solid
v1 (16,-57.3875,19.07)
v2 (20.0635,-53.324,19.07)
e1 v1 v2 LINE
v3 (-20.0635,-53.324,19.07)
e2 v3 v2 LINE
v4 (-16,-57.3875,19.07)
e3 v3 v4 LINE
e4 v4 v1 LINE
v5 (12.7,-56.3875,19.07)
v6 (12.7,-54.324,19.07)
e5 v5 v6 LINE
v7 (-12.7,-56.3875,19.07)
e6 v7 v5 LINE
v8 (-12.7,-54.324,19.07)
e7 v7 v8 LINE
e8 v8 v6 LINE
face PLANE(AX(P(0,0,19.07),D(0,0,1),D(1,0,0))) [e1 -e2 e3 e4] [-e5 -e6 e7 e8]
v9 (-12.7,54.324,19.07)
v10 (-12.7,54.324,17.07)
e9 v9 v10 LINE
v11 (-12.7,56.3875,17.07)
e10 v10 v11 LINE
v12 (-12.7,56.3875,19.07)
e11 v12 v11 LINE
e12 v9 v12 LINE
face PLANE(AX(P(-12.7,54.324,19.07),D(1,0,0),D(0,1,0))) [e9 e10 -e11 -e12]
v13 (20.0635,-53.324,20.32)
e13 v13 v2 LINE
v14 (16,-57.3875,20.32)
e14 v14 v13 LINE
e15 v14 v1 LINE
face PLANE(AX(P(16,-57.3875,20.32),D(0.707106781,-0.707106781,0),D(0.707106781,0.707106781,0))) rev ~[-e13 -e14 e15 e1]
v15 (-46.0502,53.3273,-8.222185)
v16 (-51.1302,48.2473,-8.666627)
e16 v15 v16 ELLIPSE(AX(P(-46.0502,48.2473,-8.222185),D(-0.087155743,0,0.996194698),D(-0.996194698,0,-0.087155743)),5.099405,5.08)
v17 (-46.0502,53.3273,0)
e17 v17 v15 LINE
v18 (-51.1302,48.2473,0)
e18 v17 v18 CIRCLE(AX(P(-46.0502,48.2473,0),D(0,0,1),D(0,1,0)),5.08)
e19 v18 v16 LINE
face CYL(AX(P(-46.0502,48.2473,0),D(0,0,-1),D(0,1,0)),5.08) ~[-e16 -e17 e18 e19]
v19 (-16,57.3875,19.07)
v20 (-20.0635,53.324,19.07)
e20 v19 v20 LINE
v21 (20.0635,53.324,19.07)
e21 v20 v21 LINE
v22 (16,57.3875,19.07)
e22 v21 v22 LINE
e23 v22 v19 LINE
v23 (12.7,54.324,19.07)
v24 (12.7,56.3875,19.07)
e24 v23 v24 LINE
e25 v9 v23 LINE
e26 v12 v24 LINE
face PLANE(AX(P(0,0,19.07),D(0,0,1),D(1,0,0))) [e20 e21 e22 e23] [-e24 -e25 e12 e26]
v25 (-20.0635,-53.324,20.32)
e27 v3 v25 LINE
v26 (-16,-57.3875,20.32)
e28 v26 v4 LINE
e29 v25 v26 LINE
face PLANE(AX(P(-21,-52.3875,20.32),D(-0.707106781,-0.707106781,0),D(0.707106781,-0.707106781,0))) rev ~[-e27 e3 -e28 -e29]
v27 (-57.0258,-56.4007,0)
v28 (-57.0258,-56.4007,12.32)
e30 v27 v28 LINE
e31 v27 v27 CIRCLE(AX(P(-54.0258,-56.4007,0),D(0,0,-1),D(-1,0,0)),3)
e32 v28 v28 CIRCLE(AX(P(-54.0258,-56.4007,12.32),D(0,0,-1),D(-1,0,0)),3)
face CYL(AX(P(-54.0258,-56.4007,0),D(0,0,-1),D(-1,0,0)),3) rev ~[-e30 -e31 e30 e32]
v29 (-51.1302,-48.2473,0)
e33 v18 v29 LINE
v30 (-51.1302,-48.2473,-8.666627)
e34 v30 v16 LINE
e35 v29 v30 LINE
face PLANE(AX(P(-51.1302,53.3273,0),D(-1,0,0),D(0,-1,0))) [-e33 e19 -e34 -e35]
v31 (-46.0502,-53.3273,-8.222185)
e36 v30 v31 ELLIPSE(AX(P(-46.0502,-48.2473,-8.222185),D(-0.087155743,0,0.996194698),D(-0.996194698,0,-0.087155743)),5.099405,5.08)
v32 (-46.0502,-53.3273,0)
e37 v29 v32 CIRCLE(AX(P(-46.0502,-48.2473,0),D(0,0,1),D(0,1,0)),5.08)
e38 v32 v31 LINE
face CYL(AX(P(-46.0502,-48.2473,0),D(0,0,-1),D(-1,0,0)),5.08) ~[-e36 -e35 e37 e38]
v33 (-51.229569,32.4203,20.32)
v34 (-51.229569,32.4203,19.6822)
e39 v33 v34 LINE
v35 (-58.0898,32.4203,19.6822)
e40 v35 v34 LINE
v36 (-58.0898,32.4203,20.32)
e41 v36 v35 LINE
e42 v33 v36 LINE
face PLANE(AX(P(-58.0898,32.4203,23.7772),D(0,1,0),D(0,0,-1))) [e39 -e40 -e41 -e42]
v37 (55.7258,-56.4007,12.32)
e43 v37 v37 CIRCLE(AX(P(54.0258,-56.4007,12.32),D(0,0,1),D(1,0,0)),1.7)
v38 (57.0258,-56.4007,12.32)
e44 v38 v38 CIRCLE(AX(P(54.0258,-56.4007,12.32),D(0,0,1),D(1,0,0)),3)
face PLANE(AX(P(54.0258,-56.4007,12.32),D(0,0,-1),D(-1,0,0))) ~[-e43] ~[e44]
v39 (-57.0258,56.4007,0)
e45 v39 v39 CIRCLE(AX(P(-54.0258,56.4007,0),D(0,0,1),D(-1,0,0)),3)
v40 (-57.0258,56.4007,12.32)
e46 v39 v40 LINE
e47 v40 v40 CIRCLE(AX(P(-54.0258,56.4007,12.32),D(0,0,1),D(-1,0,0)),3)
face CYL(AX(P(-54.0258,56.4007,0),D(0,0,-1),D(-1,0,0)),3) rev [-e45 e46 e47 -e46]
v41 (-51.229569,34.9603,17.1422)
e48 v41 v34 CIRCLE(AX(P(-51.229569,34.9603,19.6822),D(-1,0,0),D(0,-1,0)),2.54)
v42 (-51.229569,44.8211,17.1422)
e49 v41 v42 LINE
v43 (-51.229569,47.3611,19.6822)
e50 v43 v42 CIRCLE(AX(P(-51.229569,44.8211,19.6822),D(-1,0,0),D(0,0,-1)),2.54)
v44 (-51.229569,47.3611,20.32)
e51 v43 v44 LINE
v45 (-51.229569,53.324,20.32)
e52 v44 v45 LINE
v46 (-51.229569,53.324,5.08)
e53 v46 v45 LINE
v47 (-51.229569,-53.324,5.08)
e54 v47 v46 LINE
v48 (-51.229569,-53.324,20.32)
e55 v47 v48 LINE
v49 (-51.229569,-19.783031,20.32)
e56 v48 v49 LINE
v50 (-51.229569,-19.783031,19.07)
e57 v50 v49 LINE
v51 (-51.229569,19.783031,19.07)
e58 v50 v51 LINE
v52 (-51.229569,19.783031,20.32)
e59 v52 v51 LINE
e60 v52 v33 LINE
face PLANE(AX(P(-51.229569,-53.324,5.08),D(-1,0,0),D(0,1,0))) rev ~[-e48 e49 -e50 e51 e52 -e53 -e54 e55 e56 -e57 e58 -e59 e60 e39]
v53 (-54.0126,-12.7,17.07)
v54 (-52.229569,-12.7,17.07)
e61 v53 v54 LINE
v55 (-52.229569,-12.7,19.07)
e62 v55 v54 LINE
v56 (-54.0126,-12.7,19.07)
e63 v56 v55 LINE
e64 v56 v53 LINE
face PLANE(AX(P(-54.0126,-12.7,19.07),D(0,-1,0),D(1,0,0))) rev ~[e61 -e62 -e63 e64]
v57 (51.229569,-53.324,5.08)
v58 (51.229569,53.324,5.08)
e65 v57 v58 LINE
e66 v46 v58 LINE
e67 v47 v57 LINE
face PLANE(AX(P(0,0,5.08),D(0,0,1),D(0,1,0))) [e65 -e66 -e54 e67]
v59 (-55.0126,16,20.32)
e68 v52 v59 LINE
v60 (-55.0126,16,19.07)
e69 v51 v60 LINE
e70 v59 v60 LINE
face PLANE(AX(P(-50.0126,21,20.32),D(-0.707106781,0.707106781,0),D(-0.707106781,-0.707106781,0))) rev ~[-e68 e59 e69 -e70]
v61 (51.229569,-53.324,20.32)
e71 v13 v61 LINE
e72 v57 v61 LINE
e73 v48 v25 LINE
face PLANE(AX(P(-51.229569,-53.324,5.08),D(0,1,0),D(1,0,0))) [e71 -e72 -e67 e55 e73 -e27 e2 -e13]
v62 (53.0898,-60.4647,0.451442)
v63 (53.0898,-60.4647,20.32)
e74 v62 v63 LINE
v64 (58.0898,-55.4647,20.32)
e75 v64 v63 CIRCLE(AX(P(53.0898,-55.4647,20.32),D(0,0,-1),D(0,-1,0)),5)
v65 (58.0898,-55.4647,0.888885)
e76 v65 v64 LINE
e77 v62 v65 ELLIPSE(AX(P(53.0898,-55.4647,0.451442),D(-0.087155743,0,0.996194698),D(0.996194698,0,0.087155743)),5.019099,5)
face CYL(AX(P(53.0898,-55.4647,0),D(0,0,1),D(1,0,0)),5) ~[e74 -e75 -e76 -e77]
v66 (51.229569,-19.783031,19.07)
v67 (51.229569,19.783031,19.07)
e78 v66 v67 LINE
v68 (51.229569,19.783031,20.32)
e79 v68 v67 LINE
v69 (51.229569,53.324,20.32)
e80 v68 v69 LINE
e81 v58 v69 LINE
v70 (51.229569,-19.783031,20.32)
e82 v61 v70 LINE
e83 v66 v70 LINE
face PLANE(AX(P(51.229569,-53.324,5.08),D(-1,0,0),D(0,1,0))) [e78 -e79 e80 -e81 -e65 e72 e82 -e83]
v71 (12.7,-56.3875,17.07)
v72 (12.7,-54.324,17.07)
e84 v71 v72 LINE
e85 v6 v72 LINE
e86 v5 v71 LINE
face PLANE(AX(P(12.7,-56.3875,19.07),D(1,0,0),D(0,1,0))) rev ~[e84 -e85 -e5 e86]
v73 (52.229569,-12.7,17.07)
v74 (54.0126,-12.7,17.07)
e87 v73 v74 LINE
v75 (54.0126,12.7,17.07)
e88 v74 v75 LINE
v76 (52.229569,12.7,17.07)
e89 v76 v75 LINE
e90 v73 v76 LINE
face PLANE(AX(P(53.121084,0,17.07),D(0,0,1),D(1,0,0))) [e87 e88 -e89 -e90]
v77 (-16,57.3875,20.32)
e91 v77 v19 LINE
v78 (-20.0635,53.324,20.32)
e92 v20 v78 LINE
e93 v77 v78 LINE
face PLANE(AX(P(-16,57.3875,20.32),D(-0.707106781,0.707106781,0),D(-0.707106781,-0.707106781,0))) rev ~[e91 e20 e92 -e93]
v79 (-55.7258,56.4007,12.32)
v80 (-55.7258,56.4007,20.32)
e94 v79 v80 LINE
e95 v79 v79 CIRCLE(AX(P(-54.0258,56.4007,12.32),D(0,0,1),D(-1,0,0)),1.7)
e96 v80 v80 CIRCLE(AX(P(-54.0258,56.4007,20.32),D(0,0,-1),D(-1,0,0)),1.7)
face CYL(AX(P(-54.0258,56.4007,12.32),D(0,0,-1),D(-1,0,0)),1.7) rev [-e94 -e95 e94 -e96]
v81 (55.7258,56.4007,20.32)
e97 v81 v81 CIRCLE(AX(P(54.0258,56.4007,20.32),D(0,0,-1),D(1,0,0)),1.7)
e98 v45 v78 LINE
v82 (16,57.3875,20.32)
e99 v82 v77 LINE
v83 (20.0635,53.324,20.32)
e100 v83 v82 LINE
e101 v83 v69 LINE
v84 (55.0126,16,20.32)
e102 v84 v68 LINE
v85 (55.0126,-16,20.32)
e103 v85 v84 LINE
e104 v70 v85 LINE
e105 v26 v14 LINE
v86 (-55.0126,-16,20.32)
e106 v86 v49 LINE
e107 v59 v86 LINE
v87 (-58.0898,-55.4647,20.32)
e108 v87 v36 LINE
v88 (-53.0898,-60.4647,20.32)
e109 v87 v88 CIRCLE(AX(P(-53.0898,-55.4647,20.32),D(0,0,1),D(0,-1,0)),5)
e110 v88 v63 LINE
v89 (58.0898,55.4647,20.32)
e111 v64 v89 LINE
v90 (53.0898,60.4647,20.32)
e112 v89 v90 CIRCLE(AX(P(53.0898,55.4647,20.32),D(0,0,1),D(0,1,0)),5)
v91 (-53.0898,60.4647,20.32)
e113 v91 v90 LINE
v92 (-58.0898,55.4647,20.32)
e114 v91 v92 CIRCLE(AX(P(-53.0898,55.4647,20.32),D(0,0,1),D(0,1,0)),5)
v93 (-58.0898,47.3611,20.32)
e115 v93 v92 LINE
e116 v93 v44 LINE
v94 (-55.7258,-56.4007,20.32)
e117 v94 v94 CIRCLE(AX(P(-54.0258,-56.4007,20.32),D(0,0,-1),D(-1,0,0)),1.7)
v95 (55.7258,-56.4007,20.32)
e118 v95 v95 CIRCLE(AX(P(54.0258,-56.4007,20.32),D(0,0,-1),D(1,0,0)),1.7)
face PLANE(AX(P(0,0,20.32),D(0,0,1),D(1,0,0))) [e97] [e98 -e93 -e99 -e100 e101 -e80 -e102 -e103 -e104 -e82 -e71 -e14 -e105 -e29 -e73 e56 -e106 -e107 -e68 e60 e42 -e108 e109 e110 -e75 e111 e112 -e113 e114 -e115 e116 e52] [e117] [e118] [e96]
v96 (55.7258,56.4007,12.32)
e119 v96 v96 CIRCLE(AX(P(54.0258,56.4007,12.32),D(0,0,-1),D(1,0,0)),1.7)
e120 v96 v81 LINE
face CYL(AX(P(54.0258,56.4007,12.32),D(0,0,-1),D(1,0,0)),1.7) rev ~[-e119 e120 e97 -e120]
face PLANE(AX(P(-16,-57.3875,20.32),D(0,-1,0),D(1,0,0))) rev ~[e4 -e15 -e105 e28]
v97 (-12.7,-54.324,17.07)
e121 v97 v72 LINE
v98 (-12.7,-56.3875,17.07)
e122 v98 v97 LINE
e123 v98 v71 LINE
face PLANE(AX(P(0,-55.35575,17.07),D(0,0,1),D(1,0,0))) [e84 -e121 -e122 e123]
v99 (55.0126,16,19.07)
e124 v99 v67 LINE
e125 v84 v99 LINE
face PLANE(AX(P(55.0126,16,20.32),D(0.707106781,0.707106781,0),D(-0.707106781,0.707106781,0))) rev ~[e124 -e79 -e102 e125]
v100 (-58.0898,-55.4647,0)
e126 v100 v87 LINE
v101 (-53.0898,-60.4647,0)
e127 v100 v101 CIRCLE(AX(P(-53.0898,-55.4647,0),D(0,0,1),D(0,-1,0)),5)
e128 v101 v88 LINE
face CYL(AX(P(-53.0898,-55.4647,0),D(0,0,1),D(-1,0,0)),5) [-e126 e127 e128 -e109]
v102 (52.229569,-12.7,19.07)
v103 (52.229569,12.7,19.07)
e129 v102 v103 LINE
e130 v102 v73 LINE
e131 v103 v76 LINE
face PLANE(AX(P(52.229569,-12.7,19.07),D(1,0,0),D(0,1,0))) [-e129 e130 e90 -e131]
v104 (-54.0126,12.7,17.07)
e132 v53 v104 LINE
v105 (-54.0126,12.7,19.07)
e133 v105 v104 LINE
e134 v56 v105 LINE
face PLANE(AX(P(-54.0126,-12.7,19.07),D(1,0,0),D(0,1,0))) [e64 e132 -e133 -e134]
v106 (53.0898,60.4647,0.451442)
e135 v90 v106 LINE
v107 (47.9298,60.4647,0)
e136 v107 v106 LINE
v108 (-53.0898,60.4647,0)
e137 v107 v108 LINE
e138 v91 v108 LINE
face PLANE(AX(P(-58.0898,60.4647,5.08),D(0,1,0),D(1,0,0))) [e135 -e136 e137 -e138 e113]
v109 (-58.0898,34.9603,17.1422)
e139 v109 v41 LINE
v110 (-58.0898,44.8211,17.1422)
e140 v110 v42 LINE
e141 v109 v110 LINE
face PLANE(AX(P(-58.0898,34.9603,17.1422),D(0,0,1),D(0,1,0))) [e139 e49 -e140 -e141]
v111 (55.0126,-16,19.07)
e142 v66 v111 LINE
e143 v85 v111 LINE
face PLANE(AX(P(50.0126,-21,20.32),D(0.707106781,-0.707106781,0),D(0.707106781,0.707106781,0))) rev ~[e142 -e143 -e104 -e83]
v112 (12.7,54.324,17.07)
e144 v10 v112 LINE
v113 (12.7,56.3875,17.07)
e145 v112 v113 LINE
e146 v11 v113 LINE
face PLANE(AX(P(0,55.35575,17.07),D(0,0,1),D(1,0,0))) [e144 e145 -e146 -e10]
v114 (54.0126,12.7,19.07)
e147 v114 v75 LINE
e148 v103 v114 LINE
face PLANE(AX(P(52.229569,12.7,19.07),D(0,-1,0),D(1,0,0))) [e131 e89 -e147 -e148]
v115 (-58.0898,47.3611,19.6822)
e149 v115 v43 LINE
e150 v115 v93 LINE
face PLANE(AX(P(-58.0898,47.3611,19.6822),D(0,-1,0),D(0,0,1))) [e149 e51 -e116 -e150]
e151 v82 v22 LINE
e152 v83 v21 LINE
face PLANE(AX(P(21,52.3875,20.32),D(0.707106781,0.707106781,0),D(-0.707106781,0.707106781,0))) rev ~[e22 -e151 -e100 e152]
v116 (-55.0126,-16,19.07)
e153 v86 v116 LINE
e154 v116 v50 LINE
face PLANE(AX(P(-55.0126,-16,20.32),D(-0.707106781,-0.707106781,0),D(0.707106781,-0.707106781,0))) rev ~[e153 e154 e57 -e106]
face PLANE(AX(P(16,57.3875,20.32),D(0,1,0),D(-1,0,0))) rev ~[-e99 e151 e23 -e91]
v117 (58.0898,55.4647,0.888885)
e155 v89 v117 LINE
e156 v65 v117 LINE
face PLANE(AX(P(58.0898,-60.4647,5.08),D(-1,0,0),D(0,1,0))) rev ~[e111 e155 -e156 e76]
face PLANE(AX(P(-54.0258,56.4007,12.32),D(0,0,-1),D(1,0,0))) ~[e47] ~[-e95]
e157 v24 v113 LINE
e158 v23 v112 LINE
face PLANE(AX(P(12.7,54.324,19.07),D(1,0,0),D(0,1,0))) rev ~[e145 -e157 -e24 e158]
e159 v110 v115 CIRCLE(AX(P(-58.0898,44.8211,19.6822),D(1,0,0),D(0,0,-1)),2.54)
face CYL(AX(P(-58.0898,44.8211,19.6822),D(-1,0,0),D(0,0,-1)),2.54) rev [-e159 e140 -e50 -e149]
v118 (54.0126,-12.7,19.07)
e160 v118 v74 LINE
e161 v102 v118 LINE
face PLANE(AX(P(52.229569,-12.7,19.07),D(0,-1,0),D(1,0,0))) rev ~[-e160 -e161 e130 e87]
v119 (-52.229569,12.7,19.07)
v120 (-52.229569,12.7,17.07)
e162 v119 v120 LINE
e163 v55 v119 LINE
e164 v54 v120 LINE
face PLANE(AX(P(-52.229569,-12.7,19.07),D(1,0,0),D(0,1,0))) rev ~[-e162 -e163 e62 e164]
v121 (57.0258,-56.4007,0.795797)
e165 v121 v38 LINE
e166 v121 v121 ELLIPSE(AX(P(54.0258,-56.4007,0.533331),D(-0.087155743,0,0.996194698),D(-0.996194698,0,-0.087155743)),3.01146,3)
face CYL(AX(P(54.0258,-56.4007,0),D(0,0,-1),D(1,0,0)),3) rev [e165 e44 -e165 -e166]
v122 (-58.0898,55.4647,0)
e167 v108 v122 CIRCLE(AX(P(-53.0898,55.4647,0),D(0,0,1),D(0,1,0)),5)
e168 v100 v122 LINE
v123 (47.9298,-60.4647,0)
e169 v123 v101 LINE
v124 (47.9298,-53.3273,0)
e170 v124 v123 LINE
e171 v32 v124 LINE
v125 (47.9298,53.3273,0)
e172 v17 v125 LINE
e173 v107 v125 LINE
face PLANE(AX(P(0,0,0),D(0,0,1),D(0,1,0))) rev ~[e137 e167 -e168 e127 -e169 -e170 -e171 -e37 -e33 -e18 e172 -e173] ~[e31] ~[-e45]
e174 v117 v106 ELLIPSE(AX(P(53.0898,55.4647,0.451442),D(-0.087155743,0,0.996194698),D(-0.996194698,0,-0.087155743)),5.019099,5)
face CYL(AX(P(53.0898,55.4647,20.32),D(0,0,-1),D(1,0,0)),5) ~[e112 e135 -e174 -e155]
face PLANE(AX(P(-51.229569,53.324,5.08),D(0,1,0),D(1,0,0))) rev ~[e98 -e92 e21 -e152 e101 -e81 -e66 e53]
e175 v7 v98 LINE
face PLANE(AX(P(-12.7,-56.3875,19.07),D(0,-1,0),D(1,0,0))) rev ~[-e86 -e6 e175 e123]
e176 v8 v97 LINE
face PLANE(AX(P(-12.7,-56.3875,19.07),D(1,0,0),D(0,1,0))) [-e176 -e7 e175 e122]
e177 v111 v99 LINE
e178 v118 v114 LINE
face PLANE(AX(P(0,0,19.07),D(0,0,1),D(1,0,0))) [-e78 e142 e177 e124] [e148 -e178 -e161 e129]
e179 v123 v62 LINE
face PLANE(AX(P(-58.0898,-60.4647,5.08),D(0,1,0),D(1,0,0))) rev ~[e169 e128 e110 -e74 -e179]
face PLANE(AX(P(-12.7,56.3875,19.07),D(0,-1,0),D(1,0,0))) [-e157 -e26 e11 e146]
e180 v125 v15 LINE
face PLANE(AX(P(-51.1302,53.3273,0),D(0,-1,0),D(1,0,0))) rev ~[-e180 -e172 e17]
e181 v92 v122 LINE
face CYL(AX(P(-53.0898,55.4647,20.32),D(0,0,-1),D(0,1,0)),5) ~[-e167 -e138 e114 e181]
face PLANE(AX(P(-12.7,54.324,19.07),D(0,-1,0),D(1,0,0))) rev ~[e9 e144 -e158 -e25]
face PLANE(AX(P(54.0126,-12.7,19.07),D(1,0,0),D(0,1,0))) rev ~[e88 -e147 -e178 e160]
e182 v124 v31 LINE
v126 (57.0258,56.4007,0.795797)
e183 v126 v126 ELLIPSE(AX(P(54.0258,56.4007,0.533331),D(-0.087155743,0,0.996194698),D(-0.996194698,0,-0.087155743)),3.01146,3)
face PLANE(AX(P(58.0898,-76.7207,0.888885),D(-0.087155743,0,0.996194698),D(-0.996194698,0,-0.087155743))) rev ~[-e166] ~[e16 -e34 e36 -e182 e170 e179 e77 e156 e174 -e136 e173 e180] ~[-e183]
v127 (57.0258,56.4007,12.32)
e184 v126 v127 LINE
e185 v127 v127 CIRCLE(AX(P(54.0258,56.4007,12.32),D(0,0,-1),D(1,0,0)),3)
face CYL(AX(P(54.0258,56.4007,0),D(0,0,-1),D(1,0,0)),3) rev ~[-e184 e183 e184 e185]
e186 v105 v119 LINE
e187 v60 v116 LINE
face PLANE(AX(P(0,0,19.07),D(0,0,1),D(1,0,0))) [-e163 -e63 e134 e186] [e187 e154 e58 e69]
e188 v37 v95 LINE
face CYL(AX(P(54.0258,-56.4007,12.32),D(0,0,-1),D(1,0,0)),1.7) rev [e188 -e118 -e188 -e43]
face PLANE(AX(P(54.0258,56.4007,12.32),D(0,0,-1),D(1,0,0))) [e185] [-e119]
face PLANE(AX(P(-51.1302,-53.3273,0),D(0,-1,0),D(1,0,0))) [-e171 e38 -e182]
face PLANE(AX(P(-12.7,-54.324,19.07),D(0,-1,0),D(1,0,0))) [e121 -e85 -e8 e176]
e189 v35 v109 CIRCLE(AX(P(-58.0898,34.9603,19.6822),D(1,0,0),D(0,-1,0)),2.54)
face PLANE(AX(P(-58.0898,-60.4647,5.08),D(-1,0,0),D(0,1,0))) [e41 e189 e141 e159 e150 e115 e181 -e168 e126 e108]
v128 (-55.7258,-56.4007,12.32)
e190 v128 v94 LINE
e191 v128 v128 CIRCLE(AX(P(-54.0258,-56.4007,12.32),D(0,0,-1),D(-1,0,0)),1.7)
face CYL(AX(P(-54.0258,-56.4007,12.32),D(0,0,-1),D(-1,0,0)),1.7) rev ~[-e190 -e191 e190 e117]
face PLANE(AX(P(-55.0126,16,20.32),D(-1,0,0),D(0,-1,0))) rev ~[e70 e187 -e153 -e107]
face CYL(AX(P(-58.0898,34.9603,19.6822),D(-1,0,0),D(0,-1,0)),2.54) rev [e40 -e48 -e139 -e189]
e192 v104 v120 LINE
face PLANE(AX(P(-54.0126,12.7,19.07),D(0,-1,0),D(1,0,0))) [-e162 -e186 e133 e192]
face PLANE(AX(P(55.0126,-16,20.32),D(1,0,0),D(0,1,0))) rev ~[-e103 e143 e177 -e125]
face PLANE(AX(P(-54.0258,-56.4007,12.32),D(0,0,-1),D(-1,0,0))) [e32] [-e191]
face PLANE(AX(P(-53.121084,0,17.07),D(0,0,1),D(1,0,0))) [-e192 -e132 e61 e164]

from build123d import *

# Parameters (mm, degrees)
SKETCH1_W                                  = 120.9294
SKETCH1_H                                  = 116.1796
BOSS_EXTRUDE1_DEPTH                        = 5.08
SKETCH2_W                                  = 116.1796
SKETCH2_H                                  = 120.9294
SKETCH2_W_2                                = 102.459137156
SKETCH2_H_2                                = 106.648
BOSS_EXTRUDE2_DEPTH                        = 15.24
CUT_EXTRUDE1_DEPTH                         = 1.25
SKETCH4_W                                  = 25.4
SKETCH4_H                                  = 2.0635
SKETCH4_W_2                                = 1.783031422
SKETCH4_H_2                                = 25.4
CUT_EXTRUDE2_DEPTH                         = 2
CUT_EXTRUDE3_DEPTH                         = 9.906
SKETCH7_R                                  = 3
CUT_EXTRUDE4_DEPTH                         = 12.32
SKETCH8_R                                  = 1.7
CUT_EXTRUDE5_DEPTH                         = 12.32
MIRROR1_AT_THE_SECOND_PLANE_COPY_1_SKETC_R = 3
MIRROR1_AT_THE_SECOND_PLANE_COPY_1_DEPTH   = 12.32
MIRROR1_AT_THE_SECOND_PLANE_COPY_2_SKETC_R = 1.7
MIRROR1_AT_THE_SECOND_PLANE_COPY_2_DEPTH   = 12.32
SKETCH6_W                                  = 109.22
SKETCH6_H                                  = 106.6546
BOSS_EXTRUDE3_DEPTH                        = 9.5504
FILLET1_R                                  = 5.08
FILLET2_R                                  = 5
CUT_EXTRUDE6_DEPTH                         = 18.034
CUT_EXTRUDE6_DEPTH_BACK                    = 130.048


with BuildPart() as part:
    # Sketch1 → Boss-Extrude1 (new body)
    with BuildSketch(Plane(origin=(0, 0, 0), x_dir=(0, 1, 0), z_dir=(0, 0, 1))):
        Rectangle(SKETCH1_W, SKETCH1_H)
    extrude(amount=BOSS_EXTRUDE1_DEPTH)

    # Sketch2 → Boss-Extrude2 (add)
    with BuildSketch(Plane.XY.offset(5.08)):
        Rectangle(SKETCH2_W, SKETCH2_H)
        Rectangle(SKETCH2_W_2, SKETCH2_H_2, mode=Mode.SUBTRACT)
    extrude(amount=BOSS_EXTRUDE2_DEPTH)

    # Sketch3 → Cut-Extrude1 (cut)
    with BuildSketch(Plane.XY.offset(20.32)):
        Polygon((-50.0126, -52.3875), (-21, -52.3875), (-16, -57.3875), (16, -57.3875), (21, -52.3875), (50.0126, -52.3875), (50.0126, -21), (55.0126, -16), (55.0126, 16), (50.0126, 21), (50.0126, 52.3875), (21, 52.3875), (16, 57.3875), (-16, 57.3875), (-21, 52.3875), (-50.0126, 52.3875), (-50.0126, 21), (-55.0126, 16), (-55.0126, -16), (-50.0126, -21), align=None)
    extrude(amount=-CUT_EXTRUDE1_DEPTH, mode=Mode.SUBTRACT)

    # Sketch4 → Cut-Extrude2 (cut)
    with BuildSketch(Plane.XY.offset(19.07)):
        with Locations((0, 55.35575)):
            Rectangle(SKETCH4_W, SKETCH4_H)
        with Locations((0, -55.35575)):
            Rectangle(SKETCH4_W, SKETCH4_H)
        with Locations((-53.121084289, 0)):
            Rectangle(SKETCH4_W_2, SKETCH4_H_2)
        with Locations((53.121084289, 0)):
            Rectangle(SKETCH4_W_2, SKETCH4_H_2)
    extrude(amount=-CUT_EXTRUDE2_DEPTH, mode=Mode.SUBTRACT)

    # Sketch5 → Cut-Extrude3 (cut)
    with BuildSketch(Plane(origin=(-58.0898, 0, 0), x_dir=(0, -1, 0), z_dir=(-1, 0, 0))):
        with BuildLine():
            Line((-44.8211, 26.3172), (-34.9603, 26.3172))
            ThreePointArc((-34.9603, 26.3172), (-33.164248776, 25.573251224), (-32.4203, 23.7772))
            Line((-32.4203, 23.7772), (-32.4203, 19.6822))
            ThreePointArc((-32.4203, 19.6822), (-33.164248776, 17.886148776), (-34.9603, 17.1422))
            Line((-34.9603, 17.1422), (-44.8211, 17.1422))
            ThreePointArc((-44.8211, 17.1422), (-46.617151224, 17.886148776), (-47.3611, 19.6822))
            Line((-47.3611, 19.6822), (-47.3611, 23.7772))
            ThreePointArc((-47.3611, 23.7772), (-46.617151224, 25.573251224), (-44.8211, 26.3172))
        make_face()
    extrude(amount=-CUT_EXTRUDE3_DEPTH, mode=Mode.SUBTRACT)

    # Sketch7 → Cut-Extrude4 (cut)
    with BuildSketch(Plane(origin=(0, 0, 0), x_dir=(1, 0, 0), z_dir=(0, 0, -1))):
        with Locations(Location((-54.0258, 56.4007, 0), (0, 0, 180))):
            Circle(SKETCH7_R)
    cut_extrude4 = extrude(amount=-CUT_EXTRUDE4_DEPTH, mode=Mode.SUBTRACT)

    # Sketch8 → Cut-Extrude5 (cut)
    with BuildSketch(Plane(origin=(0, 0, 12.32), x_dir=(1, 0, 0), z_dir=(0, 0, -1))):
        with Locations(Location((-54.0258, 56.4007, 0), (0, 0, 180))):
            Circle(SKETCH8_R)
    cut_extrude5 = extrude(amount=-CUT_EXTRUDE5_DEPTH, mode=Mode.SUBTRACT)

    # Mirror1: Cut-Extrude4, Cut-Extrude5 across plane
    add(cut_extrude4.mirror(Plane.ZX), mode=Mode.SUBTRACT)
    add(cut_extrude5.mirror(Plane.ZX), mode=Mode.SUBTRACT)

    # Mirror1 at the second plane: Cut-Extrude4, Cut-Extrude5 across plane
    add(cut_extrude4.mirror(Plane(origin=(0, 0, 0), x_dir=(0, 0, 1), z_dir=(1, 0, 0))), mode=Mode.SUBTRACT)
    add(cut_extrude5.mirror(Plane(origin=(0, 0, 0), x_dir=(0, 0, 1), z_dir=(1, 0, 0))), mode=Mode.SUBTRACT)

    # Mirror1 at the second plane copy 1 sketc → Mirror1 at the second plane copy 1 (cut)
    with BuildSketch(Plane(origin=(0, 0, 0), x_dir=(-1, 0, 0), z_dir=(0, 0, -1))):
        with Locations(Location((-54.0258, 56.4007, 0), (0, 0, 180))):
            Circle(MIRROR1_AT_THE_SECOND_PLANE_COPY_1_SKETC_R)
    extrude(amount=-MIRROR1_AT_THE_SECOND_PLANE_COPY_1_DEPTH, mode=Mode.SUBTRACT)

    # Mirror1 at the second plane copy 2 sketc → Mirror1 at the second plane copy 2 (cut)
    with BuildSketch(Plane(origin=(0, 0, 12.32), x_dir=(-1, 0, 0), z_dir=(0, 0, -1))):
        with Locations(Location((-54.0258, 56.4007, 0), (0, 0, 180))):
            Circle(MIRROR1_AT_THE_SECOND_PLANE_COPY_2_SKETC_R)
    extrude(amount=-MIRROR1_AT_THE_SECOND_PLANE_COPY_2_DEPTH, mode=Mode.SUBTRACT)

    # Sketch6 → Boss-Extrude3 (add)
    with BuildSketch(Plane(origin=(0, 0, 0), x_dir=(1, 0, 0), z_dir=(0, 0, -1))):
        with Locations((3.4798, 0)):
            Rectangle(SKETCH6_W, SKETCH6_H)
    extrude(amount=BOSS_EXTRUDE3_DEPTH)

    # Fillet1
    fillet1_edges = [part.edges().sort_by_distance(p)[0] for p in [
        (-51.1302, -53.3273, -4.7752),
        (-51.1302, 53.3273, -4.7752),
    ]]
    fillet(fillet1_edges, radius=FILLET1_R)

    # Fillet2
    fillet2_edges = [part.edges().sort_by_distance(p)[0] for p in [
        (58.0898, 60.4647, 10.16),
        (58.0898, -60.4647, 10.16),
        (-58.0898, -60.4647, 10.16),
        (-58.0898, 60.4647, 10.16),
    ]]
    fillet(fillet2_edges, radius=FILLET2_R)

    # Sketch10 → Cut-Extrude6 (cut, two sides: drawn at the far end of the back side and taken through both)
    with BuildSketch(Plane(origin=(0, 53.3273, 0), x_dir=(-1, 0, 0), z_dir=(0, 1, 0)).offset(-CUT_EXTRUDE6_DEPTH_BACK)):
        Polygon((-58.0898, 0.888884821), (51.1302, -8.666627009), (51.1302, -9.5504), (-58.0898, -9.5504), align=None)
    extrude(amount=CUT_EXTRUDE6_DEPTH + CUT_EXTRUDE6_DEPTH_BACK, mode=Mode.SUBTRACT)


solid = part.part
